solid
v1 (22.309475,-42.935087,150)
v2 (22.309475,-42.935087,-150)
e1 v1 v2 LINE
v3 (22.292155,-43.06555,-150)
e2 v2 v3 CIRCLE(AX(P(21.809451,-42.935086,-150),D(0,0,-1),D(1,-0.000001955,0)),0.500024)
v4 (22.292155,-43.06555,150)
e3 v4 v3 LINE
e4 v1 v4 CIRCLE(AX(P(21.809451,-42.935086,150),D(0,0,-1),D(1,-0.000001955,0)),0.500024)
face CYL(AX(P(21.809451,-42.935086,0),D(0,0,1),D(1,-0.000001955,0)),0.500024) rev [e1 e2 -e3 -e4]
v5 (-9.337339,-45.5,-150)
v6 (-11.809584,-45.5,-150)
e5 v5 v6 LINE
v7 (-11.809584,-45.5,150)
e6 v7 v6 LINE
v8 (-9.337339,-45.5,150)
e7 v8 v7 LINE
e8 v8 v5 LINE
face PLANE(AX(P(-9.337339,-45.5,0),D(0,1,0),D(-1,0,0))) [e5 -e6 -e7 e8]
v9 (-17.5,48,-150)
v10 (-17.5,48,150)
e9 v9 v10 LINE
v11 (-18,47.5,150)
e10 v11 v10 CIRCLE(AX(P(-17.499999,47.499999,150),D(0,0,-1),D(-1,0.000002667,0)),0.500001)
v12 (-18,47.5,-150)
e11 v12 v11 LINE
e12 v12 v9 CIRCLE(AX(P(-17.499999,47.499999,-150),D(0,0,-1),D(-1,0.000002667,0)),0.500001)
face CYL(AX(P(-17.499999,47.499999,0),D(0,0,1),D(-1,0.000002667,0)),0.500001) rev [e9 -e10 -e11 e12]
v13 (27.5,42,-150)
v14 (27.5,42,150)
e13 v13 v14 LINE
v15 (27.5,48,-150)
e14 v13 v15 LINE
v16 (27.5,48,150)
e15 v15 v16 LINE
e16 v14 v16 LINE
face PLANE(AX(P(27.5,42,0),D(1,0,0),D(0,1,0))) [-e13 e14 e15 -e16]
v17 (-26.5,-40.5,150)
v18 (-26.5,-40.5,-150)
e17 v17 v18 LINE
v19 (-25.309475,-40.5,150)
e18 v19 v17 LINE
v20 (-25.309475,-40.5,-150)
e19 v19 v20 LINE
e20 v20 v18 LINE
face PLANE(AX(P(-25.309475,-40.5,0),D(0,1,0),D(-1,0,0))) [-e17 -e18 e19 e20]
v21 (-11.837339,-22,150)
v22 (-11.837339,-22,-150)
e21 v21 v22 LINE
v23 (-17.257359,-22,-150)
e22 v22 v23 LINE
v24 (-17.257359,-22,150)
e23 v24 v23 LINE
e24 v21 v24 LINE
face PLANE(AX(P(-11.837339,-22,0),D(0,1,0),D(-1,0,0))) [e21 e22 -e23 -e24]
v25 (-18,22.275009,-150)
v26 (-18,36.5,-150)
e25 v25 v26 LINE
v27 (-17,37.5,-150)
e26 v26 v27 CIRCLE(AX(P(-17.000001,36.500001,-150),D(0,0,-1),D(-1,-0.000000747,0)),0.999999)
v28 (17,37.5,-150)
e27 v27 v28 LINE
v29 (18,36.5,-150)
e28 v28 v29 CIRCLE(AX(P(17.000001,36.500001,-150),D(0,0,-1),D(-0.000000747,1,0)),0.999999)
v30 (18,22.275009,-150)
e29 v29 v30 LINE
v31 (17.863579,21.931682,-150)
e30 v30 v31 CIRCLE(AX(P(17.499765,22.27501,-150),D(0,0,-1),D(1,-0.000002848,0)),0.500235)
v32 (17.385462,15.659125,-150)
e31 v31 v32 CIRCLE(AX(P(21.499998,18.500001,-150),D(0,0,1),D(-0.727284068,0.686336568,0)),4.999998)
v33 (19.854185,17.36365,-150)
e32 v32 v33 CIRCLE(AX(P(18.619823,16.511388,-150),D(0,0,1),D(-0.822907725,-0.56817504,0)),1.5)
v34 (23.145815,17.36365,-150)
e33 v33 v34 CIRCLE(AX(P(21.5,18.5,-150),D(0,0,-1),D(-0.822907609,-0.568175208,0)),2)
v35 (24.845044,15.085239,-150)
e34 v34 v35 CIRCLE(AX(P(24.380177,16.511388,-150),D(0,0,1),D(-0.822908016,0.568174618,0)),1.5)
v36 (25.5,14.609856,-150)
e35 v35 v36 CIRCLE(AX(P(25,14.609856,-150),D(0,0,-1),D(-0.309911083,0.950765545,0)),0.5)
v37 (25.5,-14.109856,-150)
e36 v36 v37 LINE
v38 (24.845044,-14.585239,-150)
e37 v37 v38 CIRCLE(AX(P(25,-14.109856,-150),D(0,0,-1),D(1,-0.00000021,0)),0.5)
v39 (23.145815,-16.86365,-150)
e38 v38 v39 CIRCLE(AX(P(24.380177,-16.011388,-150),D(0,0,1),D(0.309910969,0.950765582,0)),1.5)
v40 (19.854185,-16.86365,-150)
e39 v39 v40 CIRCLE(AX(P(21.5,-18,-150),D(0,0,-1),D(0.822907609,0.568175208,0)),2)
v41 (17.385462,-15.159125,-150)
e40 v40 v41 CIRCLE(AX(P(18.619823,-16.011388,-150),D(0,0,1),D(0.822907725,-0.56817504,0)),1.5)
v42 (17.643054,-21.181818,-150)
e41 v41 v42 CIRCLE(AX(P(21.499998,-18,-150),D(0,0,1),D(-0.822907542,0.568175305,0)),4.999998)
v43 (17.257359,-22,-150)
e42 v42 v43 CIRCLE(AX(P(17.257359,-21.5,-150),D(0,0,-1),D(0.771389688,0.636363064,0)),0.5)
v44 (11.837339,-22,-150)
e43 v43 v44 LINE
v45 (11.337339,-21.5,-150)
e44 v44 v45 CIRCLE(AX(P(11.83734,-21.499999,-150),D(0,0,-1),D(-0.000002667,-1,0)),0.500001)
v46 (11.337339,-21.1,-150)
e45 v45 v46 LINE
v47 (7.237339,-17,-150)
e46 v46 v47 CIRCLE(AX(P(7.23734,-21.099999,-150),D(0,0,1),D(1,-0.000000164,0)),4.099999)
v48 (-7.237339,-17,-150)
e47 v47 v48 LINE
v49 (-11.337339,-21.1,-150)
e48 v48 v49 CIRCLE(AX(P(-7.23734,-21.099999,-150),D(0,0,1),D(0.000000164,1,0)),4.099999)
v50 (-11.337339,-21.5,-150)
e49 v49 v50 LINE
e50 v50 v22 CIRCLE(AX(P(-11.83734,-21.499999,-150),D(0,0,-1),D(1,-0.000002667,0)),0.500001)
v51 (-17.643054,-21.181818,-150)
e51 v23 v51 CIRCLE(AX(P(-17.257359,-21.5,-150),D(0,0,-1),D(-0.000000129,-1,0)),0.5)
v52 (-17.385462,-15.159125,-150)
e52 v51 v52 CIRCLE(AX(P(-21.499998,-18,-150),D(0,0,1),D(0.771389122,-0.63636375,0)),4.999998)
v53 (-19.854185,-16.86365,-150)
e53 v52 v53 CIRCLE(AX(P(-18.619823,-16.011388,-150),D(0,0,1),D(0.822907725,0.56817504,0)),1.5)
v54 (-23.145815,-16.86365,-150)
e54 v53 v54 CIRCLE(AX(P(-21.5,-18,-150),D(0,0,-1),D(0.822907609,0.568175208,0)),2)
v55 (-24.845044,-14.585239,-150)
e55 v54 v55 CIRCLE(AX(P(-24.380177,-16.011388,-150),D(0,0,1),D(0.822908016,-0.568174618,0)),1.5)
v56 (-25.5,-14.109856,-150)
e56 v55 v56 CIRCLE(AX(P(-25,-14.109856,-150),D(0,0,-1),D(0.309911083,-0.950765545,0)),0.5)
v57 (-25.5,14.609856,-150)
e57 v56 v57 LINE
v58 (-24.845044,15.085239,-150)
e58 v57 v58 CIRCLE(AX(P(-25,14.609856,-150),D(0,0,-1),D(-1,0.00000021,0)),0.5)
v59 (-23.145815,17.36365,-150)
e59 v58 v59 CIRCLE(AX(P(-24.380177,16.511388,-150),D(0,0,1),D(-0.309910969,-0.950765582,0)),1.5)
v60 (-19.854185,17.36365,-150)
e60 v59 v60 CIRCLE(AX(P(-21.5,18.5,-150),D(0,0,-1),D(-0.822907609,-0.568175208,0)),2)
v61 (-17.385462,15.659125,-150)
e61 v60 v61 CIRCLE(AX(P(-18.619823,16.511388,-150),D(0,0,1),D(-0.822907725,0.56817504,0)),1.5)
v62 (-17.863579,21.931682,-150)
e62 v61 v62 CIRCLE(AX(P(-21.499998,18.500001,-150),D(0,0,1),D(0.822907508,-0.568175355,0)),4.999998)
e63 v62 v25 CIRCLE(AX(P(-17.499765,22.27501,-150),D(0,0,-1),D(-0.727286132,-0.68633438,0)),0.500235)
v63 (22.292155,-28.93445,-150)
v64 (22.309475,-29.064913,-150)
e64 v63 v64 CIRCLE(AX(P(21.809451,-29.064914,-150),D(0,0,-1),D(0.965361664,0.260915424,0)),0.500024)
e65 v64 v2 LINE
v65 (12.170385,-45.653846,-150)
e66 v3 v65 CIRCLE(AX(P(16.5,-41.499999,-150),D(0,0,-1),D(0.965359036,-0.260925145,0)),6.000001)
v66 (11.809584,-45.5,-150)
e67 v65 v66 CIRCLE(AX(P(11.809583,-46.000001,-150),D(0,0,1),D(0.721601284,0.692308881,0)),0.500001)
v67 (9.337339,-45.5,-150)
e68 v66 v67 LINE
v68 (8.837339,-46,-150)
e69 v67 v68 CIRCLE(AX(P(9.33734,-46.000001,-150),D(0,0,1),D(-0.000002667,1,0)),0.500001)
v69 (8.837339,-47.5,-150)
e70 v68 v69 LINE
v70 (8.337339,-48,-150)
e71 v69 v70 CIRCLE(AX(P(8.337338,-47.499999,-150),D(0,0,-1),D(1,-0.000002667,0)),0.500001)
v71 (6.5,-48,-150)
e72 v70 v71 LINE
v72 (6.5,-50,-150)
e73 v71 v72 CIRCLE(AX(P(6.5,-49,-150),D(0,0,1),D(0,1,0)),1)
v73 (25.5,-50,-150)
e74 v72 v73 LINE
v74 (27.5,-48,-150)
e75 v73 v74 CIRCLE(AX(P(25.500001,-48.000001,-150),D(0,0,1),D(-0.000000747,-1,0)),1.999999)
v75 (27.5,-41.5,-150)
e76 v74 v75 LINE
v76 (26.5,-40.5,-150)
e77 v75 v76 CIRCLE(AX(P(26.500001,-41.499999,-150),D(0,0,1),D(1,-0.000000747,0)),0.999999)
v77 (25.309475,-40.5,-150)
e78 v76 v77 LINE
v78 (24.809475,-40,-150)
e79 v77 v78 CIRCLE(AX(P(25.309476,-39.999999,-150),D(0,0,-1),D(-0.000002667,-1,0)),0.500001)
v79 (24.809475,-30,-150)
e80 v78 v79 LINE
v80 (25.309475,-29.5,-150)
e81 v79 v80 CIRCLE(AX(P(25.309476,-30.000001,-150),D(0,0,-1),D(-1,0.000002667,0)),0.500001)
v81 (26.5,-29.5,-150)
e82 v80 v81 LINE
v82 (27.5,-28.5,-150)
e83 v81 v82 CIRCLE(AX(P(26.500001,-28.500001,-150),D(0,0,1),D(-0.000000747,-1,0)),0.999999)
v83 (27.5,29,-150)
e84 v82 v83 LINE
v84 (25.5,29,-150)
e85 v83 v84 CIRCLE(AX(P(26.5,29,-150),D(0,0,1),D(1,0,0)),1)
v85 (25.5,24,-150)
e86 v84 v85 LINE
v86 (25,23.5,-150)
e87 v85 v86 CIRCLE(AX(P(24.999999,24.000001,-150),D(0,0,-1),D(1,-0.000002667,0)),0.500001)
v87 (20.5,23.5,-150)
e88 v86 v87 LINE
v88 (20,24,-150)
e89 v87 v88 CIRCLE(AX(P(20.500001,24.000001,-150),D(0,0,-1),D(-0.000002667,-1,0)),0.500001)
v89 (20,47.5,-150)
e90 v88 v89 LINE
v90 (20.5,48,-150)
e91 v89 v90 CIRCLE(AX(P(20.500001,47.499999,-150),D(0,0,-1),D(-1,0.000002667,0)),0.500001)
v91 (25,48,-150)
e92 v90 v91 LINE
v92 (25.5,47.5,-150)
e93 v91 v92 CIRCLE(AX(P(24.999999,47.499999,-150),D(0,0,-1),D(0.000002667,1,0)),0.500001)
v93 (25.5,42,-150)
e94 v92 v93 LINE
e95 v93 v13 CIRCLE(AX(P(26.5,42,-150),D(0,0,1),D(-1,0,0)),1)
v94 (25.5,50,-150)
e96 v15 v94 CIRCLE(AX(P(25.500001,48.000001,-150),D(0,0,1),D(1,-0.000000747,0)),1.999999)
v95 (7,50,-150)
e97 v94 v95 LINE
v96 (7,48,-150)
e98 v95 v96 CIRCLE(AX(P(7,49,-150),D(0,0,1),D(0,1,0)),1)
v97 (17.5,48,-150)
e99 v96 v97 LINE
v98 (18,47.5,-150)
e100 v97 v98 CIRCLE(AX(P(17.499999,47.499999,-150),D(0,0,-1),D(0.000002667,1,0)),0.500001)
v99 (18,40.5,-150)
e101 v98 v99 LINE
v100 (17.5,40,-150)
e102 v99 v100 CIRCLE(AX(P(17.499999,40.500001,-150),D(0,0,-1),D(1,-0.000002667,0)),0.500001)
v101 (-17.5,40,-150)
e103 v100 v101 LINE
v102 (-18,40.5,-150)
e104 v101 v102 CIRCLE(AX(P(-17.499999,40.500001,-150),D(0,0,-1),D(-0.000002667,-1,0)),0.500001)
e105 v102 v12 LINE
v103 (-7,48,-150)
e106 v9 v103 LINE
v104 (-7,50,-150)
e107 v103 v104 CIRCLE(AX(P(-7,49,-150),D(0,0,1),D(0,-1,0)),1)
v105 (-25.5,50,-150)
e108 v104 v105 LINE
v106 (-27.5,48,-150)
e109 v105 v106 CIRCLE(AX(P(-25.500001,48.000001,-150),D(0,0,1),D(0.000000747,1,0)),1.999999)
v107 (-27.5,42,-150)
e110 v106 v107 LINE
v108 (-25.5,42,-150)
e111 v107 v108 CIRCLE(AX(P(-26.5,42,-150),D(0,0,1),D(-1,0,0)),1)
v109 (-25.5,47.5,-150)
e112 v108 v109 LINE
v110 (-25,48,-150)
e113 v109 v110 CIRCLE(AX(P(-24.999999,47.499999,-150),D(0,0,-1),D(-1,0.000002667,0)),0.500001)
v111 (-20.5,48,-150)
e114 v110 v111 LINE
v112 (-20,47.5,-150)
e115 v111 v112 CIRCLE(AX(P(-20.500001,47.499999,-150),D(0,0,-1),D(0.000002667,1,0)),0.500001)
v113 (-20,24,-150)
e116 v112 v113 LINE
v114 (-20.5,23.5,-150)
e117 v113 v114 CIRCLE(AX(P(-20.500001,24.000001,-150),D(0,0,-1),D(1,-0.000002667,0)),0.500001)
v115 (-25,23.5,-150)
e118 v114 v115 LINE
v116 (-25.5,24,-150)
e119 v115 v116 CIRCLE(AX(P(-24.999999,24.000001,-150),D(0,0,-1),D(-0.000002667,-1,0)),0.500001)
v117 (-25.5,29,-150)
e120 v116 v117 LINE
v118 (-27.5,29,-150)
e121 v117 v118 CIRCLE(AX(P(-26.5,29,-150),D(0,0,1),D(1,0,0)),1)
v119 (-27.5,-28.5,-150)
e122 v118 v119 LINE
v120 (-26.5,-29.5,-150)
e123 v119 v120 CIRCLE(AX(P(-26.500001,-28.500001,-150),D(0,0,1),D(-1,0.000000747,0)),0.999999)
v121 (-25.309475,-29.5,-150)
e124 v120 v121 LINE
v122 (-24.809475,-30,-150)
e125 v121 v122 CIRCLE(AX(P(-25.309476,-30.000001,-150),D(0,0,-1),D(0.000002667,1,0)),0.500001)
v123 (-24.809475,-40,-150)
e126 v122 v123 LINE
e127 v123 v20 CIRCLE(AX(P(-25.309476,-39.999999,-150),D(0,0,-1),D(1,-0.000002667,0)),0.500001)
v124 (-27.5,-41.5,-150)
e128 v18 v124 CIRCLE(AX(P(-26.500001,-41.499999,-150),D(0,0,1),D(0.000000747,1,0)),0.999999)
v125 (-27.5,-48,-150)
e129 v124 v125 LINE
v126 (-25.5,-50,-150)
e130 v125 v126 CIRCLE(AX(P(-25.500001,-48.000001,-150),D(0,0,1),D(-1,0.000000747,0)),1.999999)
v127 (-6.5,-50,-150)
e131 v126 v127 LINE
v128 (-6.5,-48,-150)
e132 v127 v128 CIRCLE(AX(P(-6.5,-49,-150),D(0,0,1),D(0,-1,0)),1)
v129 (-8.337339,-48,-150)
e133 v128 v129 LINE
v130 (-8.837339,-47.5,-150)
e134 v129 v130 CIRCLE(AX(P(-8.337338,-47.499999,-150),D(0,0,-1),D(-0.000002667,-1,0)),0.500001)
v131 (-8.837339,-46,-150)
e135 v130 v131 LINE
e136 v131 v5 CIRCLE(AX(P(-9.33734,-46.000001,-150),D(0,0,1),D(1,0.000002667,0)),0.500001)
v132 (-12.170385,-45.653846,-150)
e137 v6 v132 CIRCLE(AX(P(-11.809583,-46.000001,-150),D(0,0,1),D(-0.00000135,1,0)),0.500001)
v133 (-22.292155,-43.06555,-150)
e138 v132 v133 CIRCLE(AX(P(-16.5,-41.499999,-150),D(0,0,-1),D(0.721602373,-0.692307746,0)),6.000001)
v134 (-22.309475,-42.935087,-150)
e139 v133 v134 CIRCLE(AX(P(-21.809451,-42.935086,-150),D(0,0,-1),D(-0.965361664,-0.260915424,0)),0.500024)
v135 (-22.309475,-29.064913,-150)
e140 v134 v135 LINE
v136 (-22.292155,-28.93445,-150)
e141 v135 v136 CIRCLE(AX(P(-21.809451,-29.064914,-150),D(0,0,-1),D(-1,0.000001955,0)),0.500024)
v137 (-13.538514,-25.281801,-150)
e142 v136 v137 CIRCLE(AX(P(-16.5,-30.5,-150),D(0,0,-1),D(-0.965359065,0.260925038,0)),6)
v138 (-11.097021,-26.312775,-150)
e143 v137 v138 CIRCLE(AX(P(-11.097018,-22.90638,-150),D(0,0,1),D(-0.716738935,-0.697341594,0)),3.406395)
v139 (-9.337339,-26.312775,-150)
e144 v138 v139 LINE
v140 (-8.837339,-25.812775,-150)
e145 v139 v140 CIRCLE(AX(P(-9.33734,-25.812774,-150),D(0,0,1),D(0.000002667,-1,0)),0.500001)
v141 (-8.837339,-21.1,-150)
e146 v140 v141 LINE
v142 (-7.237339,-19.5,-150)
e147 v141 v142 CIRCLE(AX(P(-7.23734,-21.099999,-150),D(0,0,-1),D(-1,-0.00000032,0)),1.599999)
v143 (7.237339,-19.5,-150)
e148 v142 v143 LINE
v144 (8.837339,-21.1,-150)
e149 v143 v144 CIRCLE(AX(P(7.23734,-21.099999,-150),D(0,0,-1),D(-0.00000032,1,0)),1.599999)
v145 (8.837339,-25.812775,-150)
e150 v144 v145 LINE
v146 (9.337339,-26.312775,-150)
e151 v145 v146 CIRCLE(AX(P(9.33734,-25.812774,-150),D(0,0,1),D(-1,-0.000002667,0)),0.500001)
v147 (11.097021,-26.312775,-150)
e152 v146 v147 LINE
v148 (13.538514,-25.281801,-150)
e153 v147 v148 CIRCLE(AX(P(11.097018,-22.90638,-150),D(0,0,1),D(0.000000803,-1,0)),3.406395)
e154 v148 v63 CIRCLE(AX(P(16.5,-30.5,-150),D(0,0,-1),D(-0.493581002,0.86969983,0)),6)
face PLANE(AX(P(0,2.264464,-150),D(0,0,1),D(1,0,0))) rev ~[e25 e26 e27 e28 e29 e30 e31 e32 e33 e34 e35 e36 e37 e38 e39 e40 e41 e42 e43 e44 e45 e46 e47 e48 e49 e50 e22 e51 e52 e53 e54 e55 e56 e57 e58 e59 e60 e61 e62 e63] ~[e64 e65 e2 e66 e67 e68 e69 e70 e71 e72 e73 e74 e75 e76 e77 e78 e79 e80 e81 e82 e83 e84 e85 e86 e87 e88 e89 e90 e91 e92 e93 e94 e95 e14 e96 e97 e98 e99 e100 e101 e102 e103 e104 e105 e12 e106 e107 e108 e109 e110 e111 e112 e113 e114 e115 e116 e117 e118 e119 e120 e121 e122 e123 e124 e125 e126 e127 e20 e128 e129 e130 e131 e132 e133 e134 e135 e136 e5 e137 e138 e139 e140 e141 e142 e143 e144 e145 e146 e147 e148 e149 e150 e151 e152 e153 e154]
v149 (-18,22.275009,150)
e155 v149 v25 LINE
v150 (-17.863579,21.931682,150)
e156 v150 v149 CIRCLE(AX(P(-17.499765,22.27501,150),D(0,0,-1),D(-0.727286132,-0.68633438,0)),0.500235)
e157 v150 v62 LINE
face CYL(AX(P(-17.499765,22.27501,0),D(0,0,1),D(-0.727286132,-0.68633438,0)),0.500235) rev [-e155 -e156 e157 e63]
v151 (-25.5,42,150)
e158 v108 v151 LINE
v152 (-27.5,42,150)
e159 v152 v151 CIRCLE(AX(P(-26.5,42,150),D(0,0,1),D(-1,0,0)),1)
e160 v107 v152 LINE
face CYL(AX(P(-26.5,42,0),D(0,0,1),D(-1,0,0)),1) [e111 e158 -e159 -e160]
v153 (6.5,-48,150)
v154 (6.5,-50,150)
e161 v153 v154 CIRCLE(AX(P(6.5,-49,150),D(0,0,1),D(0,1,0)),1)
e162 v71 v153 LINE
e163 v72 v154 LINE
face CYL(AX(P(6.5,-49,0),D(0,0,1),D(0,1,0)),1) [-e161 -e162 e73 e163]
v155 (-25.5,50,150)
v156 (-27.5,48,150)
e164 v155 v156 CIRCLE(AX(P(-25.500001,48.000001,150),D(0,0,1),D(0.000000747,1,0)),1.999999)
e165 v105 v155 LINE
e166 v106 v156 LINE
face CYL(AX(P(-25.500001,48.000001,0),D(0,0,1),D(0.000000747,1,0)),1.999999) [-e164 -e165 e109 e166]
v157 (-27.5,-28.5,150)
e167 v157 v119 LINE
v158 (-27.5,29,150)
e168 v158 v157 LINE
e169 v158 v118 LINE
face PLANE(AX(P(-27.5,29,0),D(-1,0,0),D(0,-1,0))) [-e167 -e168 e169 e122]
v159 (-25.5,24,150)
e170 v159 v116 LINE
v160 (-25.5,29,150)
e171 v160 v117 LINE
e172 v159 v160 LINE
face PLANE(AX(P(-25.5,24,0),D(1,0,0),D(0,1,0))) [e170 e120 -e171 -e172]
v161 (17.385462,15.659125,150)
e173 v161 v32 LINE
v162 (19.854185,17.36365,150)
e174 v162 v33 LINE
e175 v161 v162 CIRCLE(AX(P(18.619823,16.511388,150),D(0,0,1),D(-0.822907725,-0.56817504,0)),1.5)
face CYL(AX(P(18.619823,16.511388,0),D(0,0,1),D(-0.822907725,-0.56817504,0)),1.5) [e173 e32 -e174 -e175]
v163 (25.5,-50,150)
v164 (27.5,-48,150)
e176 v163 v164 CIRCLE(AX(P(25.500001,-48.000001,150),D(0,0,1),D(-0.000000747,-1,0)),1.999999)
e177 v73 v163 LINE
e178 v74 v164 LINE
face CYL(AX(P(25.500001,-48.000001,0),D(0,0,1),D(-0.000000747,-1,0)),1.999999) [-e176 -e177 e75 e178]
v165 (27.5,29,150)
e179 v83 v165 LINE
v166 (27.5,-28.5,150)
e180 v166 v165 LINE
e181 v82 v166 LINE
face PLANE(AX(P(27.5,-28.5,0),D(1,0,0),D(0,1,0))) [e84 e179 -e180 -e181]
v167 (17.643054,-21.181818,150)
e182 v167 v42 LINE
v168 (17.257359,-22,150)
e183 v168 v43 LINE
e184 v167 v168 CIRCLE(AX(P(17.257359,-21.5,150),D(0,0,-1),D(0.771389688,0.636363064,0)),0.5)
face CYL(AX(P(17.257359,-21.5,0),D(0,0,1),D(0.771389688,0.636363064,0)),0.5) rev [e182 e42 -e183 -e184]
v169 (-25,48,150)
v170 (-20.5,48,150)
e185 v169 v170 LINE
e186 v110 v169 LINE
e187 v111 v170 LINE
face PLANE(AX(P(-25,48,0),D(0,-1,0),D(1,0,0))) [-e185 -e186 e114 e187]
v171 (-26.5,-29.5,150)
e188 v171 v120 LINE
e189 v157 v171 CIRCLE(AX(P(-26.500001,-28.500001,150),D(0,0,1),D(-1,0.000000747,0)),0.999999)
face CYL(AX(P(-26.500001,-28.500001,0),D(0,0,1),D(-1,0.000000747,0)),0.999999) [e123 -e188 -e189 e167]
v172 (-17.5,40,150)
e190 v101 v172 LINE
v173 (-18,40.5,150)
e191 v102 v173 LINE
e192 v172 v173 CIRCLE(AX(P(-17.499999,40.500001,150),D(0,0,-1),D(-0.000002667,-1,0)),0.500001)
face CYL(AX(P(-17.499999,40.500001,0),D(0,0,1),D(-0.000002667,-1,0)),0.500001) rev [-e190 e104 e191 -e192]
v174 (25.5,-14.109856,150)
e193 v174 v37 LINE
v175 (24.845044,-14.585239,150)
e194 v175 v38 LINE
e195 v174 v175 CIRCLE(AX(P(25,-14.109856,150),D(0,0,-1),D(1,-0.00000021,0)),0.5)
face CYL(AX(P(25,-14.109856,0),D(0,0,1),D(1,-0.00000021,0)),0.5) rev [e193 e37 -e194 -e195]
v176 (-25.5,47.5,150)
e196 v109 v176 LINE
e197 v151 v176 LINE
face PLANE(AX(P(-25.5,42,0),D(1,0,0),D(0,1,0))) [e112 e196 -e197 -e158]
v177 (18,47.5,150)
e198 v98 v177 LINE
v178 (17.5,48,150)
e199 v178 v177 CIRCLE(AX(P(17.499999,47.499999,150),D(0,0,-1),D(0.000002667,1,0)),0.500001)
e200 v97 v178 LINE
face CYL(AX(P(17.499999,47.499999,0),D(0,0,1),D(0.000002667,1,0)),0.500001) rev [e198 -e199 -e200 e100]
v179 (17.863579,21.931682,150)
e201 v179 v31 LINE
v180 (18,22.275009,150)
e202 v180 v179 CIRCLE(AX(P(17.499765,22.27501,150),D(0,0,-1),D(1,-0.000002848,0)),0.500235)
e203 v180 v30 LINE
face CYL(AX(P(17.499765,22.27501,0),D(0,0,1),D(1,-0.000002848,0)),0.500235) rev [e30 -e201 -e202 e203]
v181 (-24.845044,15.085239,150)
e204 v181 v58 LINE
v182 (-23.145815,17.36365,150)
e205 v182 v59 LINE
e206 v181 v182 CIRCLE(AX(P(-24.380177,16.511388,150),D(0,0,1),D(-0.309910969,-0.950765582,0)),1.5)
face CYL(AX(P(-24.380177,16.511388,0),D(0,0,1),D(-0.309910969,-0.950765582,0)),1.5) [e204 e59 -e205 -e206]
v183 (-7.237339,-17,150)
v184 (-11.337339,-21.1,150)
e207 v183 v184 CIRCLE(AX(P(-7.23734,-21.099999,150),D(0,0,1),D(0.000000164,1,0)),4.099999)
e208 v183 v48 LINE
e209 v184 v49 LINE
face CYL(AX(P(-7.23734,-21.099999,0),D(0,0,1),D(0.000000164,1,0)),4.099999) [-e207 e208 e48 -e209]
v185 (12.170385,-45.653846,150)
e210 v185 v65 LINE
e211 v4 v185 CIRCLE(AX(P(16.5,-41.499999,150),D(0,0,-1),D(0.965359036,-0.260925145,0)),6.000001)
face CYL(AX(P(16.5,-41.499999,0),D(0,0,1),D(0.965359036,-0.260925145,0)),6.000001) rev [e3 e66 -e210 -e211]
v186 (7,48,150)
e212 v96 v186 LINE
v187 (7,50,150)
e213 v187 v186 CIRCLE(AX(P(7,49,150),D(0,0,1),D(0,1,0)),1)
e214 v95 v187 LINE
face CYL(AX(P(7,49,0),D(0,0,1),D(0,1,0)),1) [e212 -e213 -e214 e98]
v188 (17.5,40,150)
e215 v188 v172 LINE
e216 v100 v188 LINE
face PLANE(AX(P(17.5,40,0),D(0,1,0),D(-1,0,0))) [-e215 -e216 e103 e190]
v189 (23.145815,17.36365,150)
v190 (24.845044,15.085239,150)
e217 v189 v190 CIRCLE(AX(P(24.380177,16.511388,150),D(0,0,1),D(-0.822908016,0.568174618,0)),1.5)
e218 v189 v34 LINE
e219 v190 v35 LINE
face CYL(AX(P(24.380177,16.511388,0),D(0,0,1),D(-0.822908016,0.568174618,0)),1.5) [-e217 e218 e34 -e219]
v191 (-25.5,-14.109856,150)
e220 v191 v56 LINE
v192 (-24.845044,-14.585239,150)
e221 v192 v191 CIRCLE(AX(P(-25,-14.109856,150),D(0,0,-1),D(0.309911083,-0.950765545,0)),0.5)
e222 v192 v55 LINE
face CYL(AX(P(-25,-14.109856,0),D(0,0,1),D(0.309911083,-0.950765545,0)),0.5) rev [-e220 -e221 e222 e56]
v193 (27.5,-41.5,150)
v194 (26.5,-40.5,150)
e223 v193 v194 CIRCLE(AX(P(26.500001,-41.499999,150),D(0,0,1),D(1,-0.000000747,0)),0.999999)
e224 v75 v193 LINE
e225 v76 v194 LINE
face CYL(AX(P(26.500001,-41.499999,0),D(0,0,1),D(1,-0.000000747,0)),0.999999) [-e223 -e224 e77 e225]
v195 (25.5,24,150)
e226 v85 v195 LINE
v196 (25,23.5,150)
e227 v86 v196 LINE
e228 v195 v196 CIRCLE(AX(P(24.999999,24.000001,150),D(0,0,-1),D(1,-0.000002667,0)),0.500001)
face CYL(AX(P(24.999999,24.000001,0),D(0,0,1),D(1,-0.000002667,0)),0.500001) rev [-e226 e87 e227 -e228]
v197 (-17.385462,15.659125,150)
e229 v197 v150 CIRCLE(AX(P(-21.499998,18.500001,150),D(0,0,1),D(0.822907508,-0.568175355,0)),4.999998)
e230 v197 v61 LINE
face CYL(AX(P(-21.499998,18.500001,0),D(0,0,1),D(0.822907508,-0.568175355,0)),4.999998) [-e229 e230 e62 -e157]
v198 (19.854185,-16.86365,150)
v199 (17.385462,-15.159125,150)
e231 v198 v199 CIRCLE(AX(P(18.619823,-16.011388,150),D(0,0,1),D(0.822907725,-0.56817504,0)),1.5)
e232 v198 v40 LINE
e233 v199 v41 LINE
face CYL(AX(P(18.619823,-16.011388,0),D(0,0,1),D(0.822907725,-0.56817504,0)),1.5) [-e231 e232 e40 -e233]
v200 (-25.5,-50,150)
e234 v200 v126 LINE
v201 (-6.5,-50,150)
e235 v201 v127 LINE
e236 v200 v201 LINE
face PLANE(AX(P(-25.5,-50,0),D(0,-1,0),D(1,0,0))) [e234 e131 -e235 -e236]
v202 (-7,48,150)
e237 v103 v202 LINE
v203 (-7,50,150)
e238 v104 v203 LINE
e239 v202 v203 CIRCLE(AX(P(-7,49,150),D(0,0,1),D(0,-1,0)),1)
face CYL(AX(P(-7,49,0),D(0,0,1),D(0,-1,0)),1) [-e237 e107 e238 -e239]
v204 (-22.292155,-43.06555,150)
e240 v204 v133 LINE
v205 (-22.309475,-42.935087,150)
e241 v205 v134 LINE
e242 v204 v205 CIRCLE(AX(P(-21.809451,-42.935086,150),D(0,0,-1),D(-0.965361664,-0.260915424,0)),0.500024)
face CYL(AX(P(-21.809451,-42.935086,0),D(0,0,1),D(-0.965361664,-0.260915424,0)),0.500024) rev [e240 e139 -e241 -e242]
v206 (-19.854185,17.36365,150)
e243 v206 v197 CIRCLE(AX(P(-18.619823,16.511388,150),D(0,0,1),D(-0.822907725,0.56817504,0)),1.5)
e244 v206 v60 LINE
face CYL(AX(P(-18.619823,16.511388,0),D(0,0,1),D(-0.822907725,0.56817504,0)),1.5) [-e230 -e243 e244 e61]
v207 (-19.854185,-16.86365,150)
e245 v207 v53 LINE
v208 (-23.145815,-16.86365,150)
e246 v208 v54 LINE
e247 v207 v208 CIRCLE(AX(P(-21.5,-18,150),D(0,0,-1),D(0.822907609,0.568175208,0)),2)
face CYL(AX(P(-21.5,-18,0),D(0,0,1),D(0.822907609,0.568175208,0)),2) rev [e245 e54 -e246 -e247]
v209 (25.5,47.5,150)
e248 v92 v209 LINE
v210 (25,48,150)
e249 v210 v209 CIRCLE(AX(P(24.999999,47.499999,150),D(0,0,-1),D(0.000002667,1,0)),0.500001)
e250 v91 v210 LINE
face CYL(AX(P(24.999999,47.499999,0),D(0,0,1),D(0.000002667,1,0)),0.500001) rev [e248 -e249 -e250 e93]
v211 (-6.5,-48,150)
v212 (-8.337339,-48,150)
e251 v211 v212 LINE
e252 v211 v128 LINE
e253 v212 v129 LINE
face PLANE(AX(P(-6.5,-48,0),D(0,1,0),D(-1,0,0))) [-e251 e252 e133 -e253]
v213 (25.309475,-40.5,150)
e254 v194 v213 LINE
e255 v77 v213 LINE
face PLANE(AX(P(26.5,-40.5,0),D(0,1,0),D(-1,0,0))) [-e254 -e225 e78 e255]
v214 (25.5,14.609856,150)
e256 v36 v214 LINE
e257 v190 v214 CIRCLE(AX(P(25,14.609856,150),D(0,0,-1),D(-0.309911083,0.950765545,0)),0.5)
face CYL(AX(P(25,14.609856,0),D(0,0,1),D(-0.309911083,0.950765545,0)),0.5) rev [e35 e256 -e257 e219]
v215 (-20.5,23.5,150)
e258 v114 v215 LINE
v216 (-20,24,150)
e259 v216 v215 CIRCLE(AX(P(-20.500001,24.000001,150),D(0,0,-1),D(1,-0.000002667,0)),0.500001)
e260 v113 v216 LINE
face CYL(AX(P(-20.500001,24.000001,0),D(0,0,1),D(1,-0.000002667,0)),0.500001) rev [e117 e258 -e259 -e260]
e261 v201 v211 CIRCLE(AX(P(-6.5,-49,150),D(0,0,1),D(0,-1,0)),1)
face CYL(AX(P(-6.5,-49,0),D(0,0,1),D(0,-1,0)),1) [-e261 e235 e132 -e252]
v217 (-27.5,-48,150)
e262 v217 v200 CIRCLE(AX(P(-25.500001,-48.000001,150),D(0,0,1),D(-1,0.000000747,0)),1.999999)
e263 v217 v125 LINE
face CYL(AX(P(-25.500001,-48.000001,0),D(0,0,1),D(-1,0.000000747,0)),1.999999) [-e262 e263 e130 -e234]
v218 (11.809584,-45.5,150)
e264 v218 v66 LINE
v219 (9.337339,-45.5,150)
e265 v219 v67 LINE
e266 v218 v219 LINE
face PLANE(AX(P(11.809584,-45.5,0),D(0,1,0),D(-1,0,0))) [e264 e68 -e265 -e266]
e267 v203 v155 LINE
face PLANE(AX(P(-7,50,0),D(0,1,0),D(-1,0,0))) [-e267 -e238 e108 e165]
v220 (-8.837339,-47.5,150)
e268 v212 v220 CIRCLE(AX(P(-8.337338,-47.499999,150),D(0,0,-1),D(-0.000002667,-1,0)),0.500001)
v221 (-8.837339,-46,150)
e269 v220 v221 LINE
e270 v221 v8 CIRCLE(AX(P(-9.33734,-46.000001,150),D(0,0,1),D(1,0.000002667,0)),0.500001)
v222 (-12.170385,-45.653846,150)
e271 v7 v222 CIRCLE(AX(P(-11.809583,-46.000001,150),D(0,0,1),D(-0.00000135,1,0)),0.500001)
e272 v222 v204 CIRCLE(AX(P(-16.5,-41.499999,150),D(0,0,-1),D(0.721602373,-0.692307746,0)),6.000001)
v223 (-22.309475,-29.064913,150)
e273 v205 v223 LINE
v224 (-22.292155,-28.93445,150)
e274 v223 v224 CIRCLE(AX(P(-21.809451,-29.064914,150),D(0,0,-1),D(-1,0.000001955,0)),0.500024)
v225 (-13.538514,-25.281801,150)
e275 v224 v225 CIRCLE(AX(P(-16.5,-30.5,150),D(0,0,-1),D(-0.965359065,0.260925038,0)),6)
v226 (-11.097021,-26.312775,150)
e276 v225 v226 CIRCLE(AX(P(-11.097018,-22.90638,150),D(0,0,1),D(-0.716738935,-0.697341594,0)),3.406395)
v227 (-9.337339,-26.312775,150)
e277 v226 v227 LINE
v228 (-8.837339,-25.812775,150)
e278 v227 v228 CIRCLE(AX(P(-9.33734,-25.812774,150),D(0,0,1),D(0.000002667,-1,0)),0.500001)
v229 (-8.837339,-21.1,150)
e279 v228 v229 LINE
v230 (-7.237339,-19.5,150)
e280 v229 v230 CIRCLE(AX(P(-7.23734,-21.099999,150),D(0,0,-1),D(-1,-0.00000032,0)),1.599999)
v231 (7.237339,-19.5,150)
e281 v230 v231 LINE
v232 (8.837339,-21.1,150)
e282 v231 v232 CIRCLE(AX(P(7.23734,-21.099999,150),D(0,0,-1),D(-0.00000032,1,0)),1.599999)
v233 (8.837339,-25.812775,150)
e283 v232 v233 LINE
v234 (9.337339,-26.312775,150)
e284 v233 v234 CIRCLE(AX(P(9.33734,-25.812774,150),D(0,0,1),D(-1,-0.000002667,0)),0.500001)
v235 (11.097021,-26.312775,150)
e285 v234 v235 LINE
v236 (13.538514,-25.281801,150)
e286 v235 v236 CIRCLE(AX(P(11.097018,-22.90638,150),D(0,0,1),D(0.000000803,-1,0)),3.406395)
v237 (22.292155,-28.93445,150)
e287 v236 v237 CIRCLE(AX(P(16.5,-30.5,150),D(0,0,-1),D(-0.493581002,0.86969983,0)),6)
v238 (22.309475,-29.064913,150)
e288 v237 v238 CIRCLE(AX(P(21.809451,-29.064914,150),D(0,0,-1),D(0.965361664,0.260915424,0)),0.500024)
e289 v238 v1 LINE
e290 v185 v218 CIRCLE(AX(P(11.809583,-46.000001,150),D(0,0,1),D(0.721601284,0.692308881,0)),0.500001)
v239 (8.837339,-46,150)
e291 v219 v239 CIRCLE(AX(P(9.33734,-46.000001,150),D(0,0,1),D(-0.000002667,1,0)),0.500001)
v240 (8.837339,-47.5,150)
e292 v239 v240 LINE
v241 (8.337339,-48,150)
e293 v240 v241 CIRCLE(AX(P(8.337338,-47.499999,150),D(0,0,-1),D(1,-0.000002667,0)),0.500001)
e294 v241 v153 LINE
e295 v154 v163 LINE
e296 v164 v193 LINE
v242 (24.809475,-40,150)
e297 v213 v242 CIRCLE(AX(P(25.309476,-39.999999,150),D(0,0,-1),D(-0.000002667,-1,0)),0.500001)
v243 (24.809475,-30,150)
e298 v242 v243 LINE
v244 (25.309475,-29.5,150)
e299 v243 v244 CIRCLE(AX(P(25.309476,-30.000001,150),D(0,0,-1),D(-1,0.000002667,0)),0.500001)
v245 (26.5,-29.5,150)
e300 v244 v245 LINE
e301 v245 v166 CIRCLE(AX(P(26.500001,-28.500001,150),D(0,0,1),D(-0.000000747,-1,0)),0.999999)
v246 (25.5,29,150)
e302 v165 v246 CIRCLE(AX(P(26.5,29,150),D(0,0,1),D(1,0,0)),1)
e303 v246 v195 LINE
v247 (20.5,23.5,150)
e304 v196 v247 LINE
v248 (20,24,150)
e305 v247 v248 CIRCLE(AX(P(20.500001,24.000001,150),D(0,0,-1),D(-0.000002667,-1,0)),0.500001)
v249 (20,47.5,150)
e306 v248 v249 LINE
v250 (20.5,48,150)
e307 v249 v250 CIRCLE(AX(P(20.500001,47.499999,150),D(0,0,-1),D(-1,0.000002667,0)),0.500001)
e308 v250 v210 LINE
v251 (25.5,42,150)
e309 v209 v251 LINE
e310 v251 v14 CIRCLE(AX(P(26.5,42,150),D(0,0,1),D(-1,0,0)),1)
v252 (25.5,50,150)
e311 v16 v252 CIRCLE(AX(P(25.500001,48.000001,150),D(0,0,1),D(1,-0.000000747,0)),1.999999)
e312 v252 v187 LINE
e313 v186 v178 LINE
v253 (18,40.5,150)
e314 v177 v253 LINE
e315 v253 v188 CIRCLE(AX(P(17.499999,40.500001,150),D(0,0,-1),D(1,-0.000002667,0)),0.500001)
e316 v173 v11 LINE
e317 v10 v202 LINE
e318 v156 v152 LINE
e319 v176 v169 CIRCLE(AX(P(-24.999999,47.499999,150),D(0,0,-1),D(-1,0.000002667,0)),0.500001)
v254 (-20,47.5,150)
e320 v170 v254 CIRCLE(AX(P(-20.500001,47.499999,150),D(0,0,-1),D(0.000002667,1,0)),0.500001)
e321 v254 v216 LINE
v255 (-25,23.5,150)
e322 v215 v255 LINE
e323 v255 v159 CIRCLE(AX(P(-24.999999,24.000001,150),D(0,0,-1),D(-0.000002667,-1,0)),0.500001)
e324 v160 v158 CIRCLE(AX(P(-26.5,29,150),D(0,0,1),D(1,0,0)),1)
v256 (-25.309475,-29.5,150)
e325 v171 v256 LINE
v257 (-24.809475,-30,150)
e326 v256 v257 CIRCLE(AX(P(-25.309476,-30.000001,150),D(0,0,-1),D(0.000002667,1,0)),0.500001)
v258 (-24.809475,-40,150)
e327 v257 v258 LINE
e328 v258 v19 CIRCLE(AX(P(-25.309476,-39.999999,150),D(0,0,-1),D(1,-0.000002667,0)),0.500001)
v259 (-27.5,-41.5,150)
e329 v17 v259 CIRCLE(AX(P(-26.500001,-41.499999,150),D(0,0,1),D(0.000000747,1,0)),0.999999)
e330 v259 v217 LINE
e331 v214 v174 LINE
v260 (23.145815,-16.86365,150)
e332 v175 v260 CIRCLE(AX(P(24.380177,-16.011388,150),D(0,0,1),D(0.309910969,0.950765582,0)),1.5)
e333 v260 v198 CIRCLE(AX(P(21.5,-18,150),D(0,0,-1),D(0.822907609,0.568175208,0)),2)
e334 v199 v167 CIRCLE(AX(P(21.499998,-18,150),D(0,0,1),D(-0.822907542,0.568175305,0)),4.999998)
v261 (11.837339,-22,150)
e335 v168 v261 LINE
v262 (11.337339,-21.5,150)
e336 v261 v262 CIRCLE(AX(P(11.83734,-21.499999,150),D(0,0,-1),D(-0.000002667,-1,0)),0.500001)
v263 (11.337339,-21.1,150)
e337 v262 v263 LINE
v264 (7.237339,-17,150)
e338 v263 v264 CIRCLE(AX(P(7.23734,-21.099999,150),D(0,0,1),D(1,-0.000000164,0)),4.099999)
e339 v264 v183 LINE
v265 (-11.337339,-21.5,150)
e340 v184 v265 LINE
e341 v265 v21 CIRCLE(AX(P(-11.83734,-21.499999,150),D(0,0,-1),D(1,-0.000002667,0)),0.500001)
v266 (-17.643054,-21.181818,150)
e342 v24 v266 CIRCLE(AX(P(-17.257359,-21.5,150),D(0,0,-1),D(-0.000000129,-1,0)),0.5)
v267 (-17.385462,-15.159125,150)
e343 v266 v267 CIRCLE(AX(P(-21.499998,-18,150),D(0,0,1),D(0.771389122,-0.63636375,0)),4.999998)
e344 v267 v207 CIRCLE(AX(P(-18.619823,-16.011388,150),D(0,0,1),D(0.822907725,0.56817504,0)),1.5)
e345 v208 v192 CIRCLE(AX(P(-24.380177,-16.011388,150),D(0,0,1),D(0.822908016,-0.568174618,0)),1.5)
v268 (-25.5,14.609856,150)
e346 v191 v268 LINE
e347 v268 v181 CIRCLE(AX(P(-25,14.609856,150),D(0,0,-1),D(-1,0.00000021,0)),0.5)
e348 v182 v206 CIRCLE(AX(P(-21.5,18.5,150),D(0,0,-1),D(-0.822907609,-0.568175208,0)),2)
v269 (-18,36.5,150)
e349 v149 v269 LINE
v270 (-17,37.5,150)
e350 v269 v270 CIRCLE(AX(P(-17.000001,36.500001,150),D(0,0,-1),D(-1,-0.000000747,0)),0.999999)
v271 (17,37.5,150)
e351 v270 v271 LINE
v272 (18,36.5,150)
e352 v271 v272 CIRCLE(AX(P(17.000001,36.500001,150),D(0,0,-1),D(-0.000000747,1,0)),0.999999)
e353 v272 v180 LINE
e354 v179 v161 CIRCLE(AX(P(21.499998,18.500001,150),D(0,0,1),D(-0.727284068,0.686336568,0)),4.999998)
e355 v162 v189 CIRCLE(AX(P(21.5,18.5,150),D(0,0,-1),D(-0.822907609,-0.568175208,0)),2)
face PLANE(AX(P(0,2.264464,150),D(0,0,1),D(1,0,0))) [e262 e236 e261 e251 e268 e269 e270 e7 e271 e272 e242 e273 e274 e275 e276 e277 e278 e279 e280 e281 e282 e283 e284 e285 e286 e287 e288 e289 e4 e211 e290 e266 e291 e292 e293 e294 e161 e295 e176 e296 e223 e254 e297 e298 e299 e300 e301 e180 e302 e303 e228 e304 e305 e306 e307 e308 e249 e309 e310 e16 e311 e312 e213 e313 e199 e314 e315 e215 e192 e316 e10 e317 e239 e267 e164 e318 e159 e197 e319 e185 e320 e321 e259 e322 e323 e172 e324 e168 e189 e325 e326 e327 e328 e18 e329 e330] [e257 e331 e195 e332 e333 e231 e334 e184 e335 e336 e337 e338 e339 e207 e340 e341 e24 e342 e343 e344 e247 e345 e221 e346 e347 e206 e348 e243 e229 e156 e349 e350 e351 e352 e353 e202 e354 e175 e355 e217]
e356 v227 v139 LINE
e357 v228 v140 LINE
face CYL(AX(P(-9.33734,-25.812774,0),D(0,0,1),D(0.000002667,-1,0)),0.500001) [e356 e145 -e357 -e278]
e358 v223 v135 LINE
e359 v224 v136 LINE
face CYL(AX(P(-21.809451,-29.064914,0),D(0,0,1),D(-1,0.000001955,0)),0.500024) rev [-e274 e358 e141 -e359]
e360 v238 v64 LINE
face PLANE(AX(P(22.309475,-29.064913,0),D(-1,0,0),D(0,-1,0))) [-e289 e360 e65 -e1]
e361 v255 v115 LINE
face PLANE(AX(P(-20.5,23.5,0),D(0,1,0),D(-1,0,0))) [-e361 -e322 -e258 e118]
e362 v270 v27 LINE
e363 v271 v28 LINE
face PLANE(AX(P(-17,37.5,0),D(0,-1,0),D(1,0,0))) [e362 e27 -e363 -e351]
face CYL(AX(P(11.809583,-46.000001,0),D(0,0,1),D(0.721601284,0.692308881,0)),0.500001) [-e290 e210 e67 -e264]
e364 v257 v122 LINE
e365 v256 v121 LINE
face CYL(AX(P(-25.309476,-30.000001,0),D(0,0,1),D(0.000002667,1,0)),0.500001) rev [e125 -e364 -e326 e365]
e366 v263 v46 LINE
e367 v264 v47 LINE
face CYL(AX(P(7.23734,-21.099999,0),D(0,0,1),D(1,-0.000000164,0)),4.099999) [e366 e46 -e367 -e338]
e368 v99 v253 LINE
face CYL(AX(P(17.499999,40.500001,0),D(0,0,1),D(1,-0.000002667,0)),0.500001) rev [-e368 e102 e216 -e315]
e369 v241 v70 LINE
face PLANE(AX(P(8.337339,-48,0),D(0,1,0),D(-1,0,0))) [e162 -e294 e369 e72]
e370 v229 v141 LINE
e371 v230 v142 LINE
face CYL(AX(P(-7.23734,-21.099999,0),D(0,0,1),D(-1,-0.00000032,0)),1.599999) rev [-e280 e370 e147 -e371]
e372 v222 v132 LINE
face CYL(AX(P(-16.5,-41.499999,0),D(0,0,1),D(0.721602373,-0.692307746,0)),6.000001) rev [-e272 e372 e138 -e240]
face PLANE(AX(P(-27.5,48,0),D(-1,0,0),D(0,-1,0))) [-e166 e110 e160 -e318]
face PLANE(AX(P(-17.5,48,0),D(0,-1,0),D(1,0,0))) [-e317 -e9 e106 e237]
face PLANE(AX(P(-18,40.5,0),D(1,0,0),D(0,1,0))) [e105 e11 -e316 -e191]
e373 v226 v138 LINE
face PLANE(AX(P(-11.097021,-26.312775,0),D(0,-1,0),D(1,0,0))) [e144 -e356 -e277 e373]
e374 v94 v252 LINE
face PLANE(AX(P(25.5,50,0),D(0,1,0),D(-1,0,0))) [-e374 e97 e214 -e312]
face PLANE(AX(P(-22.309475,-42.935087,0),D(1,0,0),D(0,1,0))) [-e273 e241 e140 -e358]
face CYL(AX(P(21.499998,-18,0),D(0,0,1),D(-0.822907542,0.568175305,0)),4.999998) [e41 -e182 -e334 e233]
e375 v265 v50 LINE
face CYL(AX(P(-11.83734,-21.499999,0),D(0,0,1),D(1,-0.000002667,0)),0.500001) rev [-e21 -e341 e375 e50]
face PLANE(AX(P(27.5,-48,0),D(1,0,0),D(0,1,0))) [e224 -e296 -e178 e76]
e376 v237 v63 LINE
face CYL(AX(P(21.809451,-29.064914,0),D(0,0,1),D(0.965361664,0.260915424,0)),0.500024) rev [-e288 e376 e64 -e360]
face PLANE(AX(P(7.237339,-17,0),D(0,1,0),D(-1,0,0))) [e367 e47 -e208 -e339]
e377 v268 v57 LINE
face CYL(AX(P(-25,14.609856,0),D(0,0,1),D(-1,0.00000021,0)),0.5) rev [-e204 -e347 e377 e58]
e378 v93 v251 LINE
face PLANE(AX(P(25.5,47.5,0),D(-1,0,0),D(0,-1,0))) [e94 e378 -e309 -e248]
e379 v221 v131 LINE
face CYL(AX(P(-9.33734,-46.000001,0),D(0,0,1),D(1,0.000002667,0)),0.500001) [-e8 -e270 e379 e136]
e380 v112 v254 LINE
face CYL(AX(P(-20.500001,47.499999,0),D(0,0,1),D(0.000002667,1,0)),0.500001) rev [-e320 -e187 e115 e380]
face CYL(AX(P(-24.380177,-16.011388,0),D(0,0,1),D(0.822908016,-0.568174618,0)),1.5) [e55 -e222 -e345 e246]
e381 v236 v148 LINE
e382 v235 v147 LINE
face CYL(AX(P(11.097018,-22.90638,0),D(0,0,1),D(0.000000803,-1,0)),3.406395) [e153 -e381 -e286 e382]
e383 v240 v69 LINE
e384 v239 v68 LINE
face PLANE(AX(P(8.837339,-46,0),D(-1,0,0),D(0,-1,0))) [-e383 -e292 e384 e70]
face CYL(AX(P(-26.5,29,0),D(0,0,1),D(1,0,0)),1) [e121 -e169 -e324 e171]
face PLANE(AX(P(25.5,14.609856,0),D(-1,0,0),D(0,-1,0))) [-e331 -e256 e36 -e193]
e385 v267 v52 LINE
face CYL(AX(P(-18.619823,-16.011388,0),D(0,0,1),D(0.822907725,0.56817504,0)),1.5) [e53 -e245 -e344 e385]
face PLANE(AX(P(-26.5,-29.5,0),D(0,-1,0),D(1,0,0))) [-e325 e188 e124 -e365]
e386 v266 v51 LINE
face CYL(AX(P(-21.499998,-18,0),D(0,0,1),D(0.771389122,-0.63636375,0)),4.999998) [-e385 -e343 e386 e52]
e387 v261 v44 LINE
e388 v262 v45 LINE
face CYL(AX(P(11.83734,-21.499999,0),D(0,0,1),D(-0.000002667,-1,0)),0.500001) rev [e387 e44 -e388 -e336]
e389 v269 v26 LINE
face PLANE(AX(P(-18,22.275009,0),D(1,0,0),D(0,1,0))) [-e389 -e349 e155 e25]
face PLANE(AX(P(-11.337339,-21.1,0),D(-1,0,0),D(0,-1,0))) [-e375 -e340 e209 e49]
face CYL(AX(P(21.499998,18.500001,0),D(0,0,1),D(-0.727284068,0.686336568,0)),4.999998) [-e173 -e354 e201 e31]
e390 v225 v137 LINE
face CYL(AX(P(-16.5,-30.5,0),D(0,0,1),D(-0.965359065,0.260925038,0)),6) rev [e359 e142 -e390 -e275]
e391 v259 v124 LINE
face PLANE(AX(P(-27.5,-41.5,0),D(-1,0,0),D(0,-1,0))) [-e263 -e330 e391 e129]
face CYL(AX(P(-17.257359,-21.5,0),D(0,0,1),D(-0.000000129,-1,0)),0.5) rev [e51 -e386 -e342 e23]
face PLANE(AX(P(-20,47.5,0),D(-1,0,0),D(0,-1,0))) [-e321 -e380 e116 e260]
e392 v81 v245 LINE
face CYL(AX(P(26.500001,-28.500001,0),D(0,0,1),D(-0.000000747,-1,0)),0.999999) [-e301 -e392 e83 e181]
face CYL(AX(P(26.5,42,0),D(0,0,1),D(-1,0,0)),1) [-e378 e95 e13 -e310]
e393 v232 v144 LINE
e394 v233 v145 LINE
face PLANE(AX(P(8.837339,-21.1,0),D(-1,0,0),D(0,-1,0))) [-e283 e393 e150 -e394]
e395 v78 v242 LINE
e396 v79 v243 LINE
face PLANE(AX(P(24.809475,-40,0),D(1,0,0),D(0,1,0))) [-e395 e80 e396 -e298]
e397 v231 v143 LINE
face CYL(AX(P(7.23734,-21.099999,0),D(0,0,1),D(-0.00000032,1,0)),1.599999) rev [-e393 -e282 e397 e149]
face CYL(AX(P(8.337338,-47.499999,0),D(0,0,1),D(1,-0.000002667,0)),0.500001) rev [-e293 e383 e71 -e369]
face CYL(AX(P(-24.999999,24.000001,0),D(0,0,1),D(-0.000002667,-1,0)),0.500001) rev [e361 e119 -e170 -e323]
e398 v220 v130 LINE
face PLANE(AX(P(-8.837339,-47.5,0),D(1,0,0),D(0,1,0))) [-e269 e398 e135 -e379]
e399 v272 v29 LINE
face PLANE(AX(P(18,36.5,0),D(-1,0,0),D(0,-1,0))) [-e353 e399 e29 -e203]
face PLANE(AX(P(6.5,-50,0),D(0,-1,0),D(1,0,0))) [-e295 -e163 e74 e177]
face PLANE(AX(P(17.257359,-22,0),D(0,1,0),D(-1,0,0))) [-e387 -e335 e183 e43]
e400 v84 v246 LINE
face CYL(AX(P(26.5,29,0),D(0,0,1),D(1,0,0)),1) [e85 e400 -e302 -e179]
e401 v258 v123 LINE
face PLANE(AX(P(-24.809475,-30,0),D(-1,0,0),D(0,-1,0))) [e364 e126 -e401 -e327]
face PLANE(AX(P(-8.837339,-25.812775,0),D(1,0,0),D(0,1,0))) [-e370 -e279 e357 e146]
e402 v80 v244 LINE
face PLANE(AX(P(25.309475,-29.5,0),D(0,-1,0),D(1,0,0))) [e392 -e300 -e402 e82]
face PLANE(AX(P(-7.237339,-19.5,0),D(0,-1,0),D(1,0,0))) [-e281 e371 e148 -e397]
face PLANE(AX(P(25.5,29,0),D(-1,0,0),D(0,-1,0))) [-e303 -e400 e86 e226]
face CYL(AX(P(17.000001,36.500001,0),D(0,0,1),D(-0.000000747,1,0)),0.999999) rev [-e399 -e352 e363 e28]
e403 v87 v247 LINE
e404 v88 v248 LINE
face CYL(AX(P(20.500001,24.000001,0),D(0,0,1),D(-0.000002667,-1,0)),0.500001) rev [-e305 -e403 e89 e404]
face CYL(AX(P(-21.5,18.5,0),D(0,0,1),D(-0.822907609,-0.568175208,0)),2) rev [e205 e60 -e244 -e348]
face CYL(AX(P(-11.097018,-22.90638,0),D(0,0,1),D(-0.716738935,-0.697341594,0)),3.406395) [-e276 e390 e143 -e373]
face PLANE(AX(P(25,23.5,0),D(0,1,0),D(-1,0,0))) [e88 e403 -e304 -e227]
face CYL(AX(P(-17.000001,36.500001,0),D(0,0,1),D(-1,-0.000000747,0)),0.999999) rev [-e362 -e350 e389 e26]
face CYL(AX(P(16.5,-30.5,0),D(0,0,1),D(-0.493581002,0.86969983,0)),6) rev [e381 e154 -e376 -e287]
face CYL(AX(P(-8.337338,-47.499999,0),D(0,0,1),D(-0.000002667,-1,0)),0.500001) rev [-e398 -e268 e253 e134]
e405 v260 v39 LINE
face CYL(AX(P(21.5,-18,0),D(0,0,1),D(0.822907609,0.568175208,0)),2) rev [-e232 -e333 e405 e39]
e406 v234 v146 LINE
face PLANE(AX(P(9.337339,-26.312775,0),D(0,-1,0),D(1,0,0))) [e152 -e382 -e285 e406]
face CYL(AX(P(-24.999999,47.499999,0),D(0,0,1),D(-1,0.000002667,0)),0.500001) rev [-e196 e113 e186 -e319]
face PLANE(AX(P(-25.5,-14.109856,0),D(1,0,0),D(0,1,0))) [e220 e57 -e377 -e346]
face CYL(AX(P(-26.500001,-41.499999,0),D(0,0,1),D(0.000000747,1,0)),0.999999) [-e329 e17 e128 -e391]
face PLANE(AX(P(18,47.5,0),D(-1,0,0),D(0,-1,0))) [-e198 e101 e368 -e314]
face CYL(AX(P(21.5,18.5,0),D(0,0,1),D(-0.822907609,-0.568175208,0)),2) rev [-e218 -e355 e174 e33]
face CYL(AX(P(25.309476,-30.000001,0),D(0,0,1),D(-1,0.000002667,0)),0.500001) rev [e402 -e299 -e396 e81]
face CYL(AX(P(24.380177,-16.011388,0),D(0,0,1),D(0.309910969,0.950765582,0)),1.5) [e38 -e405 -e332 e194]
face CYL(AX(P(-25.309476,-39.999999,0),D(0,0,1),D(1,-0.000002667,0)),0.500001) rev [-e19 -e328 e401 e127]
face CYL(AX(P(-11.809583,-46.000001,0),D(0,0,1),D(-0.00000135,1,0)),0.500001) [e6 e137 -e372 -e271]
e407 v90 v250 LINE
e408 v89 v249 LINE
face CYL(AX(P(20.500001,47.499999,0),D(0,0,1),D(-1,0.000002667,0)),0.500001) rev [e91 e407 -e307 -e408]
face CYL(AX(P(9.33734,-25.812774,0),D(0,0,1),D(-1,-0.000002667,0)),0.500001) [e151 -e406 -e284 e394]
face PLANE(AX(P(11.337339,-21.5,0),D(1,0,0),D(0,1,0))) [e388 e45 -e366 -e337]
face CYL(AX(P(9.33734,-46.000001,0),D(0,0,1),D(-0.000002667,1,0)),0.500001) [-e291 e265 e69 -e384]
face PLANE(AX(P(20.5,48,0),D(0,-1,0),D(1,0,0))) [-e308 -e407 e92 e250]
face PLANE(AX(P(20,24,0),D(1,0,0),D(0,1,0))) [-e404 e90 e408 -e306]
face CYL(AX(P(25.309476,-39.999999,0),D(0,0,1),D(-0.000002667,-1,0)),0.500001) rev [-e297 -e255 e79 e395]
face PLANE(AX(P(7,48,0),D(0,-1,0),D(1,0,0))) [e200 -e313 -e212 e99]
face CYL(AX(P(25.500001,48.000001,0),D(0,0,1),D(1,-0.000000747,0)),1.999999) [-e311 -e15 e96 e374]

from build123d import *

# Parameters (mm, degrees)
F1_DEPTH = 150


with BuildPart() as f1:
    # F0 (on Top) → F1 (new body, symmetric)
    with BuildSketch(Plane.XY):
        with BuildLine():
            Line((8.337339, -48), (6.5, -48))
            ThreePointArc((6.5, -48), (5.5, -49), (6.5, -50))
            Line((6.5, -50), (25.5, -50))
            ThreePointArc((25.5, -50), (26.914214, -49.414214), (27.5, -48))
            Line((27.5, -48), (27.5, -41.5))
            ThreePointArc((27.5, -41.5), (27.207107, -40.792893), (26.5, -40.5))
            Line((26.5, -40.5), (25.309475, -40.5))
            ThreePointArc((25.309475, -40.5), (24.955922, -40.353553), (24.809475, -40))
            Line((24.809475, -40), (24.809475, -30))
            ThreePointArc((24.809475, -30), (24.955922, -29.646447), (25.309475, -29.5))
            Line((25.309475, -29.5), (26.5, -29.5))
            ThreePointArc((26.5, -29.5), (27.207107, -29.207107), (27.5, -28.5))
            Line((27.5, -28.5), (27.5, 29))
            ThreePointArc((27.5, 29), (26.5, 30), (25.5, 29))
            Line((25.5, 29), (25.5, 24))
            ThreePointArc((25.5, 24), (25.353553, 23.646447), (25, 23.5))
            Line((25, 23.5), (20.5, 23.5))
            ThreePointArc((20.5, 23.5), (20.146447, 23.646447), (20, 24))
            Line((20, 24), (20, 47.5))
            ThreePointArc((20, 47.5), (20.146447, 47.853553), (20.5, 48))
            Line((20.5, 48), (25, 48))
            ThreePointArc((25, 48), (25.353553, 47.853553), (25.5, 47.5))
            Line((25.5, 47.5), (25.5, 42))
            ThreePointArc((25.5, 42), (26.5, 41), (27.5, 42))
            Line((27.5, 42), (27.5, 48))
            ThreePointArc((27.5, 48), (26.914214, 49.414214), (25.5, 50))
            Line((25.5, 50), (7, 50))
            ThreePointArc((7, 50), (6, 49), (7, 48))
            Line((7, 48), (17.5, 48))
            ThreePointArc((17.5, 48), (17.853553, 47.853553), (18, 47.5))
            Line((18, 47.5), (18, 40.5))
            ThreePointArc((18, 40.5), (17.853553, 40.146447), (17.5, 40))
            Line((17.5, 40), (-17.5, 40))
            ThreePointArc((-17.5, 40), (-17.853553, 40.146447), (-18, 40.5))
            Line((-18, 40.5), (-18, 47.5))
            ThreePointArc((-18, 47.5), (-17.853553, 47.853553), (-17.5, 48))
            Line((-17.5, 48), (-7, 48))
            ThreePointArc((-7, 48), (-6, 49), (-7, 50))
            Line((-7, 50), (-25.5, 50))
            ThreePointArc((-25.5, 50), (-26.914214, 49.414214), (-27.5, 48))
            Line((-27.5, 48), (-27.5, 42))
            ThreePointArc((-27.5, 42), (-26.5, 41), (-25.5, 42))
            Line((-25.5, 42), (-25.5, 47.5))
            ThreePointArc((-25.5, 47.5), (-25.353553, 47.853553), (-25, 48))
            Line((-25, 48), (-20.5, 48))
            ThreePointArc((-20.5, 48), (-20.146447, 47.853553), (-20, 47.5))
            Line((-20, 47.5), (-20, 24))
            ThreePointArc((-20, 24), (-20.146447, 23.646447), (-20.5, 23.5))
            Line((-20.5, 23.5), (-25, 23.5))
            ThreePointArc((-25, 23.5), (-25.353553, 23.646447), (-25.5, 24))
            Line((-25.5, 24), (-25.5, 29))
            ThreePointArc((-25.5, 29), (-26.5, 30), (-27.5, 29))
            Line((-27.5, 29), (-27.5, -28.5))
            ThreePointArc((-27.5, -28.5), (-27.207107, -29.207107), (-26.5, -29.5))
            Line((-26.5, -29.5), (-25.309475, -29.5))
            ThreePointArc((-25.309475, -29.5), (-24.955922, -29.646447), (-24.809475, -30))
            Line((-24.809475, -30), (-24.809475, -40))
            ThreePointArc((-24.809475, -40), (-24.955922, -40.353553), (-25.309475, -40.5))
            Line((-25.309475, -40.5), (-26.5, -40.5))
            ThreePointArc((-26.5, -40.5), (-27.207107, -40.792893), (-27.5, -41.5))
            Line((-27.5, -41.5), (-27.5, -48))
            ThreePointArc((-27.5, -48), (-26.914214, -49.414214), (-25.5, -50))
            Line((-25.5, -50), (-6.5, -50))
            ThreePointArc((-6.5, -50), (-5.5, -49), (-6.5, -48))
            Line((-6.5, -48), (-8.337339, -48))
            ThreePointArc((-8.337339, -48), (-8.690892, -47.853553), (-8.837339, -47.5))
            Line((-8.837339, -47.5), (-8.837339, -46))
            ThreePointArc((-8.837339, -46), (-8.983786, -45.646447), (-9.337339, -45.5))
            Line((-9.337339, -45.5), (-11.809584, -45.5))
            ThreePointArc((-11.809584, -45.5), (-12.0057, -45.540067), (-12.170385, -45.653846))
            ThreePointArc((-12.170385, -45.653846), (-17.986464, -47.312953), (-22.292155, -43.06555))
            ThreePointArc((-22.292155, -43.06555), (-22.305126, -43.000891), (-22.309475, -42.935087))
            Line((-22.309475, -42.935087), (-22.309475, -29.064913))
            ThreePointArc((-22.309475, -29.064913), (-22.305126, -28.999109), (-22.292155, -28.93445))
            ThreePointArc((-22.292155, -28.93445), (-18.810548, -24.962729), (-13.538514, -25.281801))
            ThreePointArc((-13.538514, -25.281801), (-12.422143, -26.044464), (-11.097021, -26.312775))
            Line((-11.097021, -26.312775), (-9.337339, -26.312775))
            ThreePointArc((-9.337339, -26.312775), (-8.983786, -26.166328), (-8.837339, -25.812775))
            Line((-8.837339, -25.812775), (-8.837339, -21.1))
            ThreePointArc((-8.837339, -21.1), (-8.36871, -19.968629), (-7.237339, -19.5))
            Line((-7.237339, -19.5), (7.237339, -19.5))
            ThreePointArc((7.237339, -19.5), (8.36871, -19.968629), (8.837339, -21.1))
            Line((8.837339, -21.1), (8.837339, -25.812775))
            ThreePointArc((8.837339, -25.812775), (8.983786, -26.166328), (9.337339, -26.312775))
            Line((9.337339, -26.312775), (11.097021, -26.312775))
            ThreePointArc((11.097021, -26.312775), (12.422143, -26.044464), (13.538514, -25.281801))
            ThreePointArc((13.538514, -25.281801), (18.810548, -24.962729), (22.292155, -28.93445))
            ThreePointArc((22.292155, -28.93445), (22.305126, -28.999109), (22.309475, -29.064913))
            Line((22.309475, -29.064913), (22.309475, -42.935087))
            ThreePointArc((22.309475, -42.935087), (22.305126, -43.000891), (22.292155, -43.06555))
            ThreePointArc((22.292155, -43.06555), (17.986464, -47.312953), (12.170385, -45.653846))
            ThreePointArc((12.170385, -45.653846), (12.0057, -45.540067), (11.809584, -45.5))
            Line((11.809584, -45.5), (9.337339, -45.5))
            ThreePointArc((9.337339, -45.5), (8.983786, -45.646447), (8.837339, -46))
            Line((8.837339, -46), (8.837339, -47.5))
            ThreePointArc((8.837339, -47.5), (8.690892, -47.853553), (8.337339, -48))
        make_face()
        with BuildLine():
            Line((25.5, 14.609856), (25.5, -14.109856))
            ThreePointArc((25.5, -14.109856), (25.293702, -14.514503), (24.845044, -14.585239))
            ThreePointArc((24.845044, -14.585239), (23.177755, -15.114626), (23.145815, -16.86365))
            ThreePointArc((23.145815, -16.86365), (21.5, -20), (19.854185, -16.86365))
            ThreePointArc((19.854185, -16.86365), (19.472086, -14.777026), (17.385462, -15.159125))
            ThreePointArc((17.385462, -15.159125), (16.504567, -18.213656), (17.643054, -21.181818))
            ThreePointArc((17.643054, -21.181818), (17.709626, -21.713201), (17.257359, -22))
            Line((17.257359, -22), (11.837339, -22))
            ThreePointArc((11.837339, -22), (11.483786, -21.853553), (11.337339, -21.5))
            Line((11.337339, -21.5), (11.337339, -21.1))
            ThreePointArc((11.337339, -21.1), (10.136477, -18.200862), (7.237339, -17))
            Line((7.237339, -17), (-7.237339, -17))
            ThreePointArc((-7.237339, -17), (-10.136477, -18.200862), (-11.337339, -21.1))
            Line((-11.337339, -21.1), (-11.337339, -21.5))
            ThreePointArc((-11.337339, -21.5), (-11.483786, -21.853553), (-11.837339, -22))
            Line((-11.837339, -22), (-17.257359, -22))
            ThreePointArc((-17.257359, -22), (-17.709626, -21.713201), (-17.643054, -21.181818))
            ThreePointArc((-17.643054, -21.181818), (-16.504567, -18.213656), (-17.385462, -15.159125))
            ThreePointArc((-17.385462, -15.159125), (-19.472086, -14.777026), (-19.854185, -16.86365))
            ThreePointArc((-19.854185, -16.86365), (-21.5, -20), (-23.145815, -16.86365))
            ThreePointArc((-23.145815, -16.86365), (-23.177755, -15.114626), (-24.845044, -14.585239))
            ThreePointArc((-24.845044, -14.585239), (-25.293702, -14.514503), (-25.5, -14.109856))
            Line((-25.5, -14.109856), (-25.5, 14.609856))
            ThreePointArc((-25.5, 14.609856), (-25.293702, 15.014503), (-24.845044, 15.085239))
            ThreePointArc((-24.845044, 15.085239), (-23.177755, 15.614626), (-23.145815, 17.36365))
            ThreePointArc((-23.145815, 17.36365), (-21.5, 20.5), (-19.854185, 17.36365))
            ThreePointArc((-19.854185, 17.36365), (-19.472086, 15.277026), (-17.385462, 15.659125))
            ThreePointArc((-17.385462, 15.659125), (-16.514462, 18.880016), (-17.863579, 21.931682))
            ThreePointArc((-17.863579, 21.931682), (-17.964645, 22.09029), (-18, 22.275009))
            Line((-18, 22.275009), (-18, 36.5))
            ThreePointArc((-18, 36.5), (-17.707107, 37.207107), (-17, 37.5))
            Line((-17, 37.5), (17, 37.5))
            ThreePointArc((17, 37.5), (17.707107, 37.207107), (18, 36.5))
            Line((18, 36.5), (18, 22.275009))
            ThreePointArc((18, 22.275009), (17.964645, 22.09029), (17.863579, 21.931682))
            ThreePointArc((17.863579, 21.931682), (16.514462, 18.880016), (17.385462, 15.659125))
            ThreePointArc((17.385462, 15.659125), (19.472086, 15.277026), (19.854185, 17.36365))
            ThreePointArc((19.854185, 17.36365), (21.5, 20.5), (23.145815, 17.36365))
            ThreePointArc((23.145815, 17.36365), (23.177755, 15.614626), (24.845044, 15.085239))
            ThreePointArc((24.845044, 15.085239), (25.293702, 15.014503), (25.5, 14.609856))
        make_face(mode=Mode.SUBTRACT)
    extrude(amount=F1_DEPTH, both=True)


solid = f1.part
